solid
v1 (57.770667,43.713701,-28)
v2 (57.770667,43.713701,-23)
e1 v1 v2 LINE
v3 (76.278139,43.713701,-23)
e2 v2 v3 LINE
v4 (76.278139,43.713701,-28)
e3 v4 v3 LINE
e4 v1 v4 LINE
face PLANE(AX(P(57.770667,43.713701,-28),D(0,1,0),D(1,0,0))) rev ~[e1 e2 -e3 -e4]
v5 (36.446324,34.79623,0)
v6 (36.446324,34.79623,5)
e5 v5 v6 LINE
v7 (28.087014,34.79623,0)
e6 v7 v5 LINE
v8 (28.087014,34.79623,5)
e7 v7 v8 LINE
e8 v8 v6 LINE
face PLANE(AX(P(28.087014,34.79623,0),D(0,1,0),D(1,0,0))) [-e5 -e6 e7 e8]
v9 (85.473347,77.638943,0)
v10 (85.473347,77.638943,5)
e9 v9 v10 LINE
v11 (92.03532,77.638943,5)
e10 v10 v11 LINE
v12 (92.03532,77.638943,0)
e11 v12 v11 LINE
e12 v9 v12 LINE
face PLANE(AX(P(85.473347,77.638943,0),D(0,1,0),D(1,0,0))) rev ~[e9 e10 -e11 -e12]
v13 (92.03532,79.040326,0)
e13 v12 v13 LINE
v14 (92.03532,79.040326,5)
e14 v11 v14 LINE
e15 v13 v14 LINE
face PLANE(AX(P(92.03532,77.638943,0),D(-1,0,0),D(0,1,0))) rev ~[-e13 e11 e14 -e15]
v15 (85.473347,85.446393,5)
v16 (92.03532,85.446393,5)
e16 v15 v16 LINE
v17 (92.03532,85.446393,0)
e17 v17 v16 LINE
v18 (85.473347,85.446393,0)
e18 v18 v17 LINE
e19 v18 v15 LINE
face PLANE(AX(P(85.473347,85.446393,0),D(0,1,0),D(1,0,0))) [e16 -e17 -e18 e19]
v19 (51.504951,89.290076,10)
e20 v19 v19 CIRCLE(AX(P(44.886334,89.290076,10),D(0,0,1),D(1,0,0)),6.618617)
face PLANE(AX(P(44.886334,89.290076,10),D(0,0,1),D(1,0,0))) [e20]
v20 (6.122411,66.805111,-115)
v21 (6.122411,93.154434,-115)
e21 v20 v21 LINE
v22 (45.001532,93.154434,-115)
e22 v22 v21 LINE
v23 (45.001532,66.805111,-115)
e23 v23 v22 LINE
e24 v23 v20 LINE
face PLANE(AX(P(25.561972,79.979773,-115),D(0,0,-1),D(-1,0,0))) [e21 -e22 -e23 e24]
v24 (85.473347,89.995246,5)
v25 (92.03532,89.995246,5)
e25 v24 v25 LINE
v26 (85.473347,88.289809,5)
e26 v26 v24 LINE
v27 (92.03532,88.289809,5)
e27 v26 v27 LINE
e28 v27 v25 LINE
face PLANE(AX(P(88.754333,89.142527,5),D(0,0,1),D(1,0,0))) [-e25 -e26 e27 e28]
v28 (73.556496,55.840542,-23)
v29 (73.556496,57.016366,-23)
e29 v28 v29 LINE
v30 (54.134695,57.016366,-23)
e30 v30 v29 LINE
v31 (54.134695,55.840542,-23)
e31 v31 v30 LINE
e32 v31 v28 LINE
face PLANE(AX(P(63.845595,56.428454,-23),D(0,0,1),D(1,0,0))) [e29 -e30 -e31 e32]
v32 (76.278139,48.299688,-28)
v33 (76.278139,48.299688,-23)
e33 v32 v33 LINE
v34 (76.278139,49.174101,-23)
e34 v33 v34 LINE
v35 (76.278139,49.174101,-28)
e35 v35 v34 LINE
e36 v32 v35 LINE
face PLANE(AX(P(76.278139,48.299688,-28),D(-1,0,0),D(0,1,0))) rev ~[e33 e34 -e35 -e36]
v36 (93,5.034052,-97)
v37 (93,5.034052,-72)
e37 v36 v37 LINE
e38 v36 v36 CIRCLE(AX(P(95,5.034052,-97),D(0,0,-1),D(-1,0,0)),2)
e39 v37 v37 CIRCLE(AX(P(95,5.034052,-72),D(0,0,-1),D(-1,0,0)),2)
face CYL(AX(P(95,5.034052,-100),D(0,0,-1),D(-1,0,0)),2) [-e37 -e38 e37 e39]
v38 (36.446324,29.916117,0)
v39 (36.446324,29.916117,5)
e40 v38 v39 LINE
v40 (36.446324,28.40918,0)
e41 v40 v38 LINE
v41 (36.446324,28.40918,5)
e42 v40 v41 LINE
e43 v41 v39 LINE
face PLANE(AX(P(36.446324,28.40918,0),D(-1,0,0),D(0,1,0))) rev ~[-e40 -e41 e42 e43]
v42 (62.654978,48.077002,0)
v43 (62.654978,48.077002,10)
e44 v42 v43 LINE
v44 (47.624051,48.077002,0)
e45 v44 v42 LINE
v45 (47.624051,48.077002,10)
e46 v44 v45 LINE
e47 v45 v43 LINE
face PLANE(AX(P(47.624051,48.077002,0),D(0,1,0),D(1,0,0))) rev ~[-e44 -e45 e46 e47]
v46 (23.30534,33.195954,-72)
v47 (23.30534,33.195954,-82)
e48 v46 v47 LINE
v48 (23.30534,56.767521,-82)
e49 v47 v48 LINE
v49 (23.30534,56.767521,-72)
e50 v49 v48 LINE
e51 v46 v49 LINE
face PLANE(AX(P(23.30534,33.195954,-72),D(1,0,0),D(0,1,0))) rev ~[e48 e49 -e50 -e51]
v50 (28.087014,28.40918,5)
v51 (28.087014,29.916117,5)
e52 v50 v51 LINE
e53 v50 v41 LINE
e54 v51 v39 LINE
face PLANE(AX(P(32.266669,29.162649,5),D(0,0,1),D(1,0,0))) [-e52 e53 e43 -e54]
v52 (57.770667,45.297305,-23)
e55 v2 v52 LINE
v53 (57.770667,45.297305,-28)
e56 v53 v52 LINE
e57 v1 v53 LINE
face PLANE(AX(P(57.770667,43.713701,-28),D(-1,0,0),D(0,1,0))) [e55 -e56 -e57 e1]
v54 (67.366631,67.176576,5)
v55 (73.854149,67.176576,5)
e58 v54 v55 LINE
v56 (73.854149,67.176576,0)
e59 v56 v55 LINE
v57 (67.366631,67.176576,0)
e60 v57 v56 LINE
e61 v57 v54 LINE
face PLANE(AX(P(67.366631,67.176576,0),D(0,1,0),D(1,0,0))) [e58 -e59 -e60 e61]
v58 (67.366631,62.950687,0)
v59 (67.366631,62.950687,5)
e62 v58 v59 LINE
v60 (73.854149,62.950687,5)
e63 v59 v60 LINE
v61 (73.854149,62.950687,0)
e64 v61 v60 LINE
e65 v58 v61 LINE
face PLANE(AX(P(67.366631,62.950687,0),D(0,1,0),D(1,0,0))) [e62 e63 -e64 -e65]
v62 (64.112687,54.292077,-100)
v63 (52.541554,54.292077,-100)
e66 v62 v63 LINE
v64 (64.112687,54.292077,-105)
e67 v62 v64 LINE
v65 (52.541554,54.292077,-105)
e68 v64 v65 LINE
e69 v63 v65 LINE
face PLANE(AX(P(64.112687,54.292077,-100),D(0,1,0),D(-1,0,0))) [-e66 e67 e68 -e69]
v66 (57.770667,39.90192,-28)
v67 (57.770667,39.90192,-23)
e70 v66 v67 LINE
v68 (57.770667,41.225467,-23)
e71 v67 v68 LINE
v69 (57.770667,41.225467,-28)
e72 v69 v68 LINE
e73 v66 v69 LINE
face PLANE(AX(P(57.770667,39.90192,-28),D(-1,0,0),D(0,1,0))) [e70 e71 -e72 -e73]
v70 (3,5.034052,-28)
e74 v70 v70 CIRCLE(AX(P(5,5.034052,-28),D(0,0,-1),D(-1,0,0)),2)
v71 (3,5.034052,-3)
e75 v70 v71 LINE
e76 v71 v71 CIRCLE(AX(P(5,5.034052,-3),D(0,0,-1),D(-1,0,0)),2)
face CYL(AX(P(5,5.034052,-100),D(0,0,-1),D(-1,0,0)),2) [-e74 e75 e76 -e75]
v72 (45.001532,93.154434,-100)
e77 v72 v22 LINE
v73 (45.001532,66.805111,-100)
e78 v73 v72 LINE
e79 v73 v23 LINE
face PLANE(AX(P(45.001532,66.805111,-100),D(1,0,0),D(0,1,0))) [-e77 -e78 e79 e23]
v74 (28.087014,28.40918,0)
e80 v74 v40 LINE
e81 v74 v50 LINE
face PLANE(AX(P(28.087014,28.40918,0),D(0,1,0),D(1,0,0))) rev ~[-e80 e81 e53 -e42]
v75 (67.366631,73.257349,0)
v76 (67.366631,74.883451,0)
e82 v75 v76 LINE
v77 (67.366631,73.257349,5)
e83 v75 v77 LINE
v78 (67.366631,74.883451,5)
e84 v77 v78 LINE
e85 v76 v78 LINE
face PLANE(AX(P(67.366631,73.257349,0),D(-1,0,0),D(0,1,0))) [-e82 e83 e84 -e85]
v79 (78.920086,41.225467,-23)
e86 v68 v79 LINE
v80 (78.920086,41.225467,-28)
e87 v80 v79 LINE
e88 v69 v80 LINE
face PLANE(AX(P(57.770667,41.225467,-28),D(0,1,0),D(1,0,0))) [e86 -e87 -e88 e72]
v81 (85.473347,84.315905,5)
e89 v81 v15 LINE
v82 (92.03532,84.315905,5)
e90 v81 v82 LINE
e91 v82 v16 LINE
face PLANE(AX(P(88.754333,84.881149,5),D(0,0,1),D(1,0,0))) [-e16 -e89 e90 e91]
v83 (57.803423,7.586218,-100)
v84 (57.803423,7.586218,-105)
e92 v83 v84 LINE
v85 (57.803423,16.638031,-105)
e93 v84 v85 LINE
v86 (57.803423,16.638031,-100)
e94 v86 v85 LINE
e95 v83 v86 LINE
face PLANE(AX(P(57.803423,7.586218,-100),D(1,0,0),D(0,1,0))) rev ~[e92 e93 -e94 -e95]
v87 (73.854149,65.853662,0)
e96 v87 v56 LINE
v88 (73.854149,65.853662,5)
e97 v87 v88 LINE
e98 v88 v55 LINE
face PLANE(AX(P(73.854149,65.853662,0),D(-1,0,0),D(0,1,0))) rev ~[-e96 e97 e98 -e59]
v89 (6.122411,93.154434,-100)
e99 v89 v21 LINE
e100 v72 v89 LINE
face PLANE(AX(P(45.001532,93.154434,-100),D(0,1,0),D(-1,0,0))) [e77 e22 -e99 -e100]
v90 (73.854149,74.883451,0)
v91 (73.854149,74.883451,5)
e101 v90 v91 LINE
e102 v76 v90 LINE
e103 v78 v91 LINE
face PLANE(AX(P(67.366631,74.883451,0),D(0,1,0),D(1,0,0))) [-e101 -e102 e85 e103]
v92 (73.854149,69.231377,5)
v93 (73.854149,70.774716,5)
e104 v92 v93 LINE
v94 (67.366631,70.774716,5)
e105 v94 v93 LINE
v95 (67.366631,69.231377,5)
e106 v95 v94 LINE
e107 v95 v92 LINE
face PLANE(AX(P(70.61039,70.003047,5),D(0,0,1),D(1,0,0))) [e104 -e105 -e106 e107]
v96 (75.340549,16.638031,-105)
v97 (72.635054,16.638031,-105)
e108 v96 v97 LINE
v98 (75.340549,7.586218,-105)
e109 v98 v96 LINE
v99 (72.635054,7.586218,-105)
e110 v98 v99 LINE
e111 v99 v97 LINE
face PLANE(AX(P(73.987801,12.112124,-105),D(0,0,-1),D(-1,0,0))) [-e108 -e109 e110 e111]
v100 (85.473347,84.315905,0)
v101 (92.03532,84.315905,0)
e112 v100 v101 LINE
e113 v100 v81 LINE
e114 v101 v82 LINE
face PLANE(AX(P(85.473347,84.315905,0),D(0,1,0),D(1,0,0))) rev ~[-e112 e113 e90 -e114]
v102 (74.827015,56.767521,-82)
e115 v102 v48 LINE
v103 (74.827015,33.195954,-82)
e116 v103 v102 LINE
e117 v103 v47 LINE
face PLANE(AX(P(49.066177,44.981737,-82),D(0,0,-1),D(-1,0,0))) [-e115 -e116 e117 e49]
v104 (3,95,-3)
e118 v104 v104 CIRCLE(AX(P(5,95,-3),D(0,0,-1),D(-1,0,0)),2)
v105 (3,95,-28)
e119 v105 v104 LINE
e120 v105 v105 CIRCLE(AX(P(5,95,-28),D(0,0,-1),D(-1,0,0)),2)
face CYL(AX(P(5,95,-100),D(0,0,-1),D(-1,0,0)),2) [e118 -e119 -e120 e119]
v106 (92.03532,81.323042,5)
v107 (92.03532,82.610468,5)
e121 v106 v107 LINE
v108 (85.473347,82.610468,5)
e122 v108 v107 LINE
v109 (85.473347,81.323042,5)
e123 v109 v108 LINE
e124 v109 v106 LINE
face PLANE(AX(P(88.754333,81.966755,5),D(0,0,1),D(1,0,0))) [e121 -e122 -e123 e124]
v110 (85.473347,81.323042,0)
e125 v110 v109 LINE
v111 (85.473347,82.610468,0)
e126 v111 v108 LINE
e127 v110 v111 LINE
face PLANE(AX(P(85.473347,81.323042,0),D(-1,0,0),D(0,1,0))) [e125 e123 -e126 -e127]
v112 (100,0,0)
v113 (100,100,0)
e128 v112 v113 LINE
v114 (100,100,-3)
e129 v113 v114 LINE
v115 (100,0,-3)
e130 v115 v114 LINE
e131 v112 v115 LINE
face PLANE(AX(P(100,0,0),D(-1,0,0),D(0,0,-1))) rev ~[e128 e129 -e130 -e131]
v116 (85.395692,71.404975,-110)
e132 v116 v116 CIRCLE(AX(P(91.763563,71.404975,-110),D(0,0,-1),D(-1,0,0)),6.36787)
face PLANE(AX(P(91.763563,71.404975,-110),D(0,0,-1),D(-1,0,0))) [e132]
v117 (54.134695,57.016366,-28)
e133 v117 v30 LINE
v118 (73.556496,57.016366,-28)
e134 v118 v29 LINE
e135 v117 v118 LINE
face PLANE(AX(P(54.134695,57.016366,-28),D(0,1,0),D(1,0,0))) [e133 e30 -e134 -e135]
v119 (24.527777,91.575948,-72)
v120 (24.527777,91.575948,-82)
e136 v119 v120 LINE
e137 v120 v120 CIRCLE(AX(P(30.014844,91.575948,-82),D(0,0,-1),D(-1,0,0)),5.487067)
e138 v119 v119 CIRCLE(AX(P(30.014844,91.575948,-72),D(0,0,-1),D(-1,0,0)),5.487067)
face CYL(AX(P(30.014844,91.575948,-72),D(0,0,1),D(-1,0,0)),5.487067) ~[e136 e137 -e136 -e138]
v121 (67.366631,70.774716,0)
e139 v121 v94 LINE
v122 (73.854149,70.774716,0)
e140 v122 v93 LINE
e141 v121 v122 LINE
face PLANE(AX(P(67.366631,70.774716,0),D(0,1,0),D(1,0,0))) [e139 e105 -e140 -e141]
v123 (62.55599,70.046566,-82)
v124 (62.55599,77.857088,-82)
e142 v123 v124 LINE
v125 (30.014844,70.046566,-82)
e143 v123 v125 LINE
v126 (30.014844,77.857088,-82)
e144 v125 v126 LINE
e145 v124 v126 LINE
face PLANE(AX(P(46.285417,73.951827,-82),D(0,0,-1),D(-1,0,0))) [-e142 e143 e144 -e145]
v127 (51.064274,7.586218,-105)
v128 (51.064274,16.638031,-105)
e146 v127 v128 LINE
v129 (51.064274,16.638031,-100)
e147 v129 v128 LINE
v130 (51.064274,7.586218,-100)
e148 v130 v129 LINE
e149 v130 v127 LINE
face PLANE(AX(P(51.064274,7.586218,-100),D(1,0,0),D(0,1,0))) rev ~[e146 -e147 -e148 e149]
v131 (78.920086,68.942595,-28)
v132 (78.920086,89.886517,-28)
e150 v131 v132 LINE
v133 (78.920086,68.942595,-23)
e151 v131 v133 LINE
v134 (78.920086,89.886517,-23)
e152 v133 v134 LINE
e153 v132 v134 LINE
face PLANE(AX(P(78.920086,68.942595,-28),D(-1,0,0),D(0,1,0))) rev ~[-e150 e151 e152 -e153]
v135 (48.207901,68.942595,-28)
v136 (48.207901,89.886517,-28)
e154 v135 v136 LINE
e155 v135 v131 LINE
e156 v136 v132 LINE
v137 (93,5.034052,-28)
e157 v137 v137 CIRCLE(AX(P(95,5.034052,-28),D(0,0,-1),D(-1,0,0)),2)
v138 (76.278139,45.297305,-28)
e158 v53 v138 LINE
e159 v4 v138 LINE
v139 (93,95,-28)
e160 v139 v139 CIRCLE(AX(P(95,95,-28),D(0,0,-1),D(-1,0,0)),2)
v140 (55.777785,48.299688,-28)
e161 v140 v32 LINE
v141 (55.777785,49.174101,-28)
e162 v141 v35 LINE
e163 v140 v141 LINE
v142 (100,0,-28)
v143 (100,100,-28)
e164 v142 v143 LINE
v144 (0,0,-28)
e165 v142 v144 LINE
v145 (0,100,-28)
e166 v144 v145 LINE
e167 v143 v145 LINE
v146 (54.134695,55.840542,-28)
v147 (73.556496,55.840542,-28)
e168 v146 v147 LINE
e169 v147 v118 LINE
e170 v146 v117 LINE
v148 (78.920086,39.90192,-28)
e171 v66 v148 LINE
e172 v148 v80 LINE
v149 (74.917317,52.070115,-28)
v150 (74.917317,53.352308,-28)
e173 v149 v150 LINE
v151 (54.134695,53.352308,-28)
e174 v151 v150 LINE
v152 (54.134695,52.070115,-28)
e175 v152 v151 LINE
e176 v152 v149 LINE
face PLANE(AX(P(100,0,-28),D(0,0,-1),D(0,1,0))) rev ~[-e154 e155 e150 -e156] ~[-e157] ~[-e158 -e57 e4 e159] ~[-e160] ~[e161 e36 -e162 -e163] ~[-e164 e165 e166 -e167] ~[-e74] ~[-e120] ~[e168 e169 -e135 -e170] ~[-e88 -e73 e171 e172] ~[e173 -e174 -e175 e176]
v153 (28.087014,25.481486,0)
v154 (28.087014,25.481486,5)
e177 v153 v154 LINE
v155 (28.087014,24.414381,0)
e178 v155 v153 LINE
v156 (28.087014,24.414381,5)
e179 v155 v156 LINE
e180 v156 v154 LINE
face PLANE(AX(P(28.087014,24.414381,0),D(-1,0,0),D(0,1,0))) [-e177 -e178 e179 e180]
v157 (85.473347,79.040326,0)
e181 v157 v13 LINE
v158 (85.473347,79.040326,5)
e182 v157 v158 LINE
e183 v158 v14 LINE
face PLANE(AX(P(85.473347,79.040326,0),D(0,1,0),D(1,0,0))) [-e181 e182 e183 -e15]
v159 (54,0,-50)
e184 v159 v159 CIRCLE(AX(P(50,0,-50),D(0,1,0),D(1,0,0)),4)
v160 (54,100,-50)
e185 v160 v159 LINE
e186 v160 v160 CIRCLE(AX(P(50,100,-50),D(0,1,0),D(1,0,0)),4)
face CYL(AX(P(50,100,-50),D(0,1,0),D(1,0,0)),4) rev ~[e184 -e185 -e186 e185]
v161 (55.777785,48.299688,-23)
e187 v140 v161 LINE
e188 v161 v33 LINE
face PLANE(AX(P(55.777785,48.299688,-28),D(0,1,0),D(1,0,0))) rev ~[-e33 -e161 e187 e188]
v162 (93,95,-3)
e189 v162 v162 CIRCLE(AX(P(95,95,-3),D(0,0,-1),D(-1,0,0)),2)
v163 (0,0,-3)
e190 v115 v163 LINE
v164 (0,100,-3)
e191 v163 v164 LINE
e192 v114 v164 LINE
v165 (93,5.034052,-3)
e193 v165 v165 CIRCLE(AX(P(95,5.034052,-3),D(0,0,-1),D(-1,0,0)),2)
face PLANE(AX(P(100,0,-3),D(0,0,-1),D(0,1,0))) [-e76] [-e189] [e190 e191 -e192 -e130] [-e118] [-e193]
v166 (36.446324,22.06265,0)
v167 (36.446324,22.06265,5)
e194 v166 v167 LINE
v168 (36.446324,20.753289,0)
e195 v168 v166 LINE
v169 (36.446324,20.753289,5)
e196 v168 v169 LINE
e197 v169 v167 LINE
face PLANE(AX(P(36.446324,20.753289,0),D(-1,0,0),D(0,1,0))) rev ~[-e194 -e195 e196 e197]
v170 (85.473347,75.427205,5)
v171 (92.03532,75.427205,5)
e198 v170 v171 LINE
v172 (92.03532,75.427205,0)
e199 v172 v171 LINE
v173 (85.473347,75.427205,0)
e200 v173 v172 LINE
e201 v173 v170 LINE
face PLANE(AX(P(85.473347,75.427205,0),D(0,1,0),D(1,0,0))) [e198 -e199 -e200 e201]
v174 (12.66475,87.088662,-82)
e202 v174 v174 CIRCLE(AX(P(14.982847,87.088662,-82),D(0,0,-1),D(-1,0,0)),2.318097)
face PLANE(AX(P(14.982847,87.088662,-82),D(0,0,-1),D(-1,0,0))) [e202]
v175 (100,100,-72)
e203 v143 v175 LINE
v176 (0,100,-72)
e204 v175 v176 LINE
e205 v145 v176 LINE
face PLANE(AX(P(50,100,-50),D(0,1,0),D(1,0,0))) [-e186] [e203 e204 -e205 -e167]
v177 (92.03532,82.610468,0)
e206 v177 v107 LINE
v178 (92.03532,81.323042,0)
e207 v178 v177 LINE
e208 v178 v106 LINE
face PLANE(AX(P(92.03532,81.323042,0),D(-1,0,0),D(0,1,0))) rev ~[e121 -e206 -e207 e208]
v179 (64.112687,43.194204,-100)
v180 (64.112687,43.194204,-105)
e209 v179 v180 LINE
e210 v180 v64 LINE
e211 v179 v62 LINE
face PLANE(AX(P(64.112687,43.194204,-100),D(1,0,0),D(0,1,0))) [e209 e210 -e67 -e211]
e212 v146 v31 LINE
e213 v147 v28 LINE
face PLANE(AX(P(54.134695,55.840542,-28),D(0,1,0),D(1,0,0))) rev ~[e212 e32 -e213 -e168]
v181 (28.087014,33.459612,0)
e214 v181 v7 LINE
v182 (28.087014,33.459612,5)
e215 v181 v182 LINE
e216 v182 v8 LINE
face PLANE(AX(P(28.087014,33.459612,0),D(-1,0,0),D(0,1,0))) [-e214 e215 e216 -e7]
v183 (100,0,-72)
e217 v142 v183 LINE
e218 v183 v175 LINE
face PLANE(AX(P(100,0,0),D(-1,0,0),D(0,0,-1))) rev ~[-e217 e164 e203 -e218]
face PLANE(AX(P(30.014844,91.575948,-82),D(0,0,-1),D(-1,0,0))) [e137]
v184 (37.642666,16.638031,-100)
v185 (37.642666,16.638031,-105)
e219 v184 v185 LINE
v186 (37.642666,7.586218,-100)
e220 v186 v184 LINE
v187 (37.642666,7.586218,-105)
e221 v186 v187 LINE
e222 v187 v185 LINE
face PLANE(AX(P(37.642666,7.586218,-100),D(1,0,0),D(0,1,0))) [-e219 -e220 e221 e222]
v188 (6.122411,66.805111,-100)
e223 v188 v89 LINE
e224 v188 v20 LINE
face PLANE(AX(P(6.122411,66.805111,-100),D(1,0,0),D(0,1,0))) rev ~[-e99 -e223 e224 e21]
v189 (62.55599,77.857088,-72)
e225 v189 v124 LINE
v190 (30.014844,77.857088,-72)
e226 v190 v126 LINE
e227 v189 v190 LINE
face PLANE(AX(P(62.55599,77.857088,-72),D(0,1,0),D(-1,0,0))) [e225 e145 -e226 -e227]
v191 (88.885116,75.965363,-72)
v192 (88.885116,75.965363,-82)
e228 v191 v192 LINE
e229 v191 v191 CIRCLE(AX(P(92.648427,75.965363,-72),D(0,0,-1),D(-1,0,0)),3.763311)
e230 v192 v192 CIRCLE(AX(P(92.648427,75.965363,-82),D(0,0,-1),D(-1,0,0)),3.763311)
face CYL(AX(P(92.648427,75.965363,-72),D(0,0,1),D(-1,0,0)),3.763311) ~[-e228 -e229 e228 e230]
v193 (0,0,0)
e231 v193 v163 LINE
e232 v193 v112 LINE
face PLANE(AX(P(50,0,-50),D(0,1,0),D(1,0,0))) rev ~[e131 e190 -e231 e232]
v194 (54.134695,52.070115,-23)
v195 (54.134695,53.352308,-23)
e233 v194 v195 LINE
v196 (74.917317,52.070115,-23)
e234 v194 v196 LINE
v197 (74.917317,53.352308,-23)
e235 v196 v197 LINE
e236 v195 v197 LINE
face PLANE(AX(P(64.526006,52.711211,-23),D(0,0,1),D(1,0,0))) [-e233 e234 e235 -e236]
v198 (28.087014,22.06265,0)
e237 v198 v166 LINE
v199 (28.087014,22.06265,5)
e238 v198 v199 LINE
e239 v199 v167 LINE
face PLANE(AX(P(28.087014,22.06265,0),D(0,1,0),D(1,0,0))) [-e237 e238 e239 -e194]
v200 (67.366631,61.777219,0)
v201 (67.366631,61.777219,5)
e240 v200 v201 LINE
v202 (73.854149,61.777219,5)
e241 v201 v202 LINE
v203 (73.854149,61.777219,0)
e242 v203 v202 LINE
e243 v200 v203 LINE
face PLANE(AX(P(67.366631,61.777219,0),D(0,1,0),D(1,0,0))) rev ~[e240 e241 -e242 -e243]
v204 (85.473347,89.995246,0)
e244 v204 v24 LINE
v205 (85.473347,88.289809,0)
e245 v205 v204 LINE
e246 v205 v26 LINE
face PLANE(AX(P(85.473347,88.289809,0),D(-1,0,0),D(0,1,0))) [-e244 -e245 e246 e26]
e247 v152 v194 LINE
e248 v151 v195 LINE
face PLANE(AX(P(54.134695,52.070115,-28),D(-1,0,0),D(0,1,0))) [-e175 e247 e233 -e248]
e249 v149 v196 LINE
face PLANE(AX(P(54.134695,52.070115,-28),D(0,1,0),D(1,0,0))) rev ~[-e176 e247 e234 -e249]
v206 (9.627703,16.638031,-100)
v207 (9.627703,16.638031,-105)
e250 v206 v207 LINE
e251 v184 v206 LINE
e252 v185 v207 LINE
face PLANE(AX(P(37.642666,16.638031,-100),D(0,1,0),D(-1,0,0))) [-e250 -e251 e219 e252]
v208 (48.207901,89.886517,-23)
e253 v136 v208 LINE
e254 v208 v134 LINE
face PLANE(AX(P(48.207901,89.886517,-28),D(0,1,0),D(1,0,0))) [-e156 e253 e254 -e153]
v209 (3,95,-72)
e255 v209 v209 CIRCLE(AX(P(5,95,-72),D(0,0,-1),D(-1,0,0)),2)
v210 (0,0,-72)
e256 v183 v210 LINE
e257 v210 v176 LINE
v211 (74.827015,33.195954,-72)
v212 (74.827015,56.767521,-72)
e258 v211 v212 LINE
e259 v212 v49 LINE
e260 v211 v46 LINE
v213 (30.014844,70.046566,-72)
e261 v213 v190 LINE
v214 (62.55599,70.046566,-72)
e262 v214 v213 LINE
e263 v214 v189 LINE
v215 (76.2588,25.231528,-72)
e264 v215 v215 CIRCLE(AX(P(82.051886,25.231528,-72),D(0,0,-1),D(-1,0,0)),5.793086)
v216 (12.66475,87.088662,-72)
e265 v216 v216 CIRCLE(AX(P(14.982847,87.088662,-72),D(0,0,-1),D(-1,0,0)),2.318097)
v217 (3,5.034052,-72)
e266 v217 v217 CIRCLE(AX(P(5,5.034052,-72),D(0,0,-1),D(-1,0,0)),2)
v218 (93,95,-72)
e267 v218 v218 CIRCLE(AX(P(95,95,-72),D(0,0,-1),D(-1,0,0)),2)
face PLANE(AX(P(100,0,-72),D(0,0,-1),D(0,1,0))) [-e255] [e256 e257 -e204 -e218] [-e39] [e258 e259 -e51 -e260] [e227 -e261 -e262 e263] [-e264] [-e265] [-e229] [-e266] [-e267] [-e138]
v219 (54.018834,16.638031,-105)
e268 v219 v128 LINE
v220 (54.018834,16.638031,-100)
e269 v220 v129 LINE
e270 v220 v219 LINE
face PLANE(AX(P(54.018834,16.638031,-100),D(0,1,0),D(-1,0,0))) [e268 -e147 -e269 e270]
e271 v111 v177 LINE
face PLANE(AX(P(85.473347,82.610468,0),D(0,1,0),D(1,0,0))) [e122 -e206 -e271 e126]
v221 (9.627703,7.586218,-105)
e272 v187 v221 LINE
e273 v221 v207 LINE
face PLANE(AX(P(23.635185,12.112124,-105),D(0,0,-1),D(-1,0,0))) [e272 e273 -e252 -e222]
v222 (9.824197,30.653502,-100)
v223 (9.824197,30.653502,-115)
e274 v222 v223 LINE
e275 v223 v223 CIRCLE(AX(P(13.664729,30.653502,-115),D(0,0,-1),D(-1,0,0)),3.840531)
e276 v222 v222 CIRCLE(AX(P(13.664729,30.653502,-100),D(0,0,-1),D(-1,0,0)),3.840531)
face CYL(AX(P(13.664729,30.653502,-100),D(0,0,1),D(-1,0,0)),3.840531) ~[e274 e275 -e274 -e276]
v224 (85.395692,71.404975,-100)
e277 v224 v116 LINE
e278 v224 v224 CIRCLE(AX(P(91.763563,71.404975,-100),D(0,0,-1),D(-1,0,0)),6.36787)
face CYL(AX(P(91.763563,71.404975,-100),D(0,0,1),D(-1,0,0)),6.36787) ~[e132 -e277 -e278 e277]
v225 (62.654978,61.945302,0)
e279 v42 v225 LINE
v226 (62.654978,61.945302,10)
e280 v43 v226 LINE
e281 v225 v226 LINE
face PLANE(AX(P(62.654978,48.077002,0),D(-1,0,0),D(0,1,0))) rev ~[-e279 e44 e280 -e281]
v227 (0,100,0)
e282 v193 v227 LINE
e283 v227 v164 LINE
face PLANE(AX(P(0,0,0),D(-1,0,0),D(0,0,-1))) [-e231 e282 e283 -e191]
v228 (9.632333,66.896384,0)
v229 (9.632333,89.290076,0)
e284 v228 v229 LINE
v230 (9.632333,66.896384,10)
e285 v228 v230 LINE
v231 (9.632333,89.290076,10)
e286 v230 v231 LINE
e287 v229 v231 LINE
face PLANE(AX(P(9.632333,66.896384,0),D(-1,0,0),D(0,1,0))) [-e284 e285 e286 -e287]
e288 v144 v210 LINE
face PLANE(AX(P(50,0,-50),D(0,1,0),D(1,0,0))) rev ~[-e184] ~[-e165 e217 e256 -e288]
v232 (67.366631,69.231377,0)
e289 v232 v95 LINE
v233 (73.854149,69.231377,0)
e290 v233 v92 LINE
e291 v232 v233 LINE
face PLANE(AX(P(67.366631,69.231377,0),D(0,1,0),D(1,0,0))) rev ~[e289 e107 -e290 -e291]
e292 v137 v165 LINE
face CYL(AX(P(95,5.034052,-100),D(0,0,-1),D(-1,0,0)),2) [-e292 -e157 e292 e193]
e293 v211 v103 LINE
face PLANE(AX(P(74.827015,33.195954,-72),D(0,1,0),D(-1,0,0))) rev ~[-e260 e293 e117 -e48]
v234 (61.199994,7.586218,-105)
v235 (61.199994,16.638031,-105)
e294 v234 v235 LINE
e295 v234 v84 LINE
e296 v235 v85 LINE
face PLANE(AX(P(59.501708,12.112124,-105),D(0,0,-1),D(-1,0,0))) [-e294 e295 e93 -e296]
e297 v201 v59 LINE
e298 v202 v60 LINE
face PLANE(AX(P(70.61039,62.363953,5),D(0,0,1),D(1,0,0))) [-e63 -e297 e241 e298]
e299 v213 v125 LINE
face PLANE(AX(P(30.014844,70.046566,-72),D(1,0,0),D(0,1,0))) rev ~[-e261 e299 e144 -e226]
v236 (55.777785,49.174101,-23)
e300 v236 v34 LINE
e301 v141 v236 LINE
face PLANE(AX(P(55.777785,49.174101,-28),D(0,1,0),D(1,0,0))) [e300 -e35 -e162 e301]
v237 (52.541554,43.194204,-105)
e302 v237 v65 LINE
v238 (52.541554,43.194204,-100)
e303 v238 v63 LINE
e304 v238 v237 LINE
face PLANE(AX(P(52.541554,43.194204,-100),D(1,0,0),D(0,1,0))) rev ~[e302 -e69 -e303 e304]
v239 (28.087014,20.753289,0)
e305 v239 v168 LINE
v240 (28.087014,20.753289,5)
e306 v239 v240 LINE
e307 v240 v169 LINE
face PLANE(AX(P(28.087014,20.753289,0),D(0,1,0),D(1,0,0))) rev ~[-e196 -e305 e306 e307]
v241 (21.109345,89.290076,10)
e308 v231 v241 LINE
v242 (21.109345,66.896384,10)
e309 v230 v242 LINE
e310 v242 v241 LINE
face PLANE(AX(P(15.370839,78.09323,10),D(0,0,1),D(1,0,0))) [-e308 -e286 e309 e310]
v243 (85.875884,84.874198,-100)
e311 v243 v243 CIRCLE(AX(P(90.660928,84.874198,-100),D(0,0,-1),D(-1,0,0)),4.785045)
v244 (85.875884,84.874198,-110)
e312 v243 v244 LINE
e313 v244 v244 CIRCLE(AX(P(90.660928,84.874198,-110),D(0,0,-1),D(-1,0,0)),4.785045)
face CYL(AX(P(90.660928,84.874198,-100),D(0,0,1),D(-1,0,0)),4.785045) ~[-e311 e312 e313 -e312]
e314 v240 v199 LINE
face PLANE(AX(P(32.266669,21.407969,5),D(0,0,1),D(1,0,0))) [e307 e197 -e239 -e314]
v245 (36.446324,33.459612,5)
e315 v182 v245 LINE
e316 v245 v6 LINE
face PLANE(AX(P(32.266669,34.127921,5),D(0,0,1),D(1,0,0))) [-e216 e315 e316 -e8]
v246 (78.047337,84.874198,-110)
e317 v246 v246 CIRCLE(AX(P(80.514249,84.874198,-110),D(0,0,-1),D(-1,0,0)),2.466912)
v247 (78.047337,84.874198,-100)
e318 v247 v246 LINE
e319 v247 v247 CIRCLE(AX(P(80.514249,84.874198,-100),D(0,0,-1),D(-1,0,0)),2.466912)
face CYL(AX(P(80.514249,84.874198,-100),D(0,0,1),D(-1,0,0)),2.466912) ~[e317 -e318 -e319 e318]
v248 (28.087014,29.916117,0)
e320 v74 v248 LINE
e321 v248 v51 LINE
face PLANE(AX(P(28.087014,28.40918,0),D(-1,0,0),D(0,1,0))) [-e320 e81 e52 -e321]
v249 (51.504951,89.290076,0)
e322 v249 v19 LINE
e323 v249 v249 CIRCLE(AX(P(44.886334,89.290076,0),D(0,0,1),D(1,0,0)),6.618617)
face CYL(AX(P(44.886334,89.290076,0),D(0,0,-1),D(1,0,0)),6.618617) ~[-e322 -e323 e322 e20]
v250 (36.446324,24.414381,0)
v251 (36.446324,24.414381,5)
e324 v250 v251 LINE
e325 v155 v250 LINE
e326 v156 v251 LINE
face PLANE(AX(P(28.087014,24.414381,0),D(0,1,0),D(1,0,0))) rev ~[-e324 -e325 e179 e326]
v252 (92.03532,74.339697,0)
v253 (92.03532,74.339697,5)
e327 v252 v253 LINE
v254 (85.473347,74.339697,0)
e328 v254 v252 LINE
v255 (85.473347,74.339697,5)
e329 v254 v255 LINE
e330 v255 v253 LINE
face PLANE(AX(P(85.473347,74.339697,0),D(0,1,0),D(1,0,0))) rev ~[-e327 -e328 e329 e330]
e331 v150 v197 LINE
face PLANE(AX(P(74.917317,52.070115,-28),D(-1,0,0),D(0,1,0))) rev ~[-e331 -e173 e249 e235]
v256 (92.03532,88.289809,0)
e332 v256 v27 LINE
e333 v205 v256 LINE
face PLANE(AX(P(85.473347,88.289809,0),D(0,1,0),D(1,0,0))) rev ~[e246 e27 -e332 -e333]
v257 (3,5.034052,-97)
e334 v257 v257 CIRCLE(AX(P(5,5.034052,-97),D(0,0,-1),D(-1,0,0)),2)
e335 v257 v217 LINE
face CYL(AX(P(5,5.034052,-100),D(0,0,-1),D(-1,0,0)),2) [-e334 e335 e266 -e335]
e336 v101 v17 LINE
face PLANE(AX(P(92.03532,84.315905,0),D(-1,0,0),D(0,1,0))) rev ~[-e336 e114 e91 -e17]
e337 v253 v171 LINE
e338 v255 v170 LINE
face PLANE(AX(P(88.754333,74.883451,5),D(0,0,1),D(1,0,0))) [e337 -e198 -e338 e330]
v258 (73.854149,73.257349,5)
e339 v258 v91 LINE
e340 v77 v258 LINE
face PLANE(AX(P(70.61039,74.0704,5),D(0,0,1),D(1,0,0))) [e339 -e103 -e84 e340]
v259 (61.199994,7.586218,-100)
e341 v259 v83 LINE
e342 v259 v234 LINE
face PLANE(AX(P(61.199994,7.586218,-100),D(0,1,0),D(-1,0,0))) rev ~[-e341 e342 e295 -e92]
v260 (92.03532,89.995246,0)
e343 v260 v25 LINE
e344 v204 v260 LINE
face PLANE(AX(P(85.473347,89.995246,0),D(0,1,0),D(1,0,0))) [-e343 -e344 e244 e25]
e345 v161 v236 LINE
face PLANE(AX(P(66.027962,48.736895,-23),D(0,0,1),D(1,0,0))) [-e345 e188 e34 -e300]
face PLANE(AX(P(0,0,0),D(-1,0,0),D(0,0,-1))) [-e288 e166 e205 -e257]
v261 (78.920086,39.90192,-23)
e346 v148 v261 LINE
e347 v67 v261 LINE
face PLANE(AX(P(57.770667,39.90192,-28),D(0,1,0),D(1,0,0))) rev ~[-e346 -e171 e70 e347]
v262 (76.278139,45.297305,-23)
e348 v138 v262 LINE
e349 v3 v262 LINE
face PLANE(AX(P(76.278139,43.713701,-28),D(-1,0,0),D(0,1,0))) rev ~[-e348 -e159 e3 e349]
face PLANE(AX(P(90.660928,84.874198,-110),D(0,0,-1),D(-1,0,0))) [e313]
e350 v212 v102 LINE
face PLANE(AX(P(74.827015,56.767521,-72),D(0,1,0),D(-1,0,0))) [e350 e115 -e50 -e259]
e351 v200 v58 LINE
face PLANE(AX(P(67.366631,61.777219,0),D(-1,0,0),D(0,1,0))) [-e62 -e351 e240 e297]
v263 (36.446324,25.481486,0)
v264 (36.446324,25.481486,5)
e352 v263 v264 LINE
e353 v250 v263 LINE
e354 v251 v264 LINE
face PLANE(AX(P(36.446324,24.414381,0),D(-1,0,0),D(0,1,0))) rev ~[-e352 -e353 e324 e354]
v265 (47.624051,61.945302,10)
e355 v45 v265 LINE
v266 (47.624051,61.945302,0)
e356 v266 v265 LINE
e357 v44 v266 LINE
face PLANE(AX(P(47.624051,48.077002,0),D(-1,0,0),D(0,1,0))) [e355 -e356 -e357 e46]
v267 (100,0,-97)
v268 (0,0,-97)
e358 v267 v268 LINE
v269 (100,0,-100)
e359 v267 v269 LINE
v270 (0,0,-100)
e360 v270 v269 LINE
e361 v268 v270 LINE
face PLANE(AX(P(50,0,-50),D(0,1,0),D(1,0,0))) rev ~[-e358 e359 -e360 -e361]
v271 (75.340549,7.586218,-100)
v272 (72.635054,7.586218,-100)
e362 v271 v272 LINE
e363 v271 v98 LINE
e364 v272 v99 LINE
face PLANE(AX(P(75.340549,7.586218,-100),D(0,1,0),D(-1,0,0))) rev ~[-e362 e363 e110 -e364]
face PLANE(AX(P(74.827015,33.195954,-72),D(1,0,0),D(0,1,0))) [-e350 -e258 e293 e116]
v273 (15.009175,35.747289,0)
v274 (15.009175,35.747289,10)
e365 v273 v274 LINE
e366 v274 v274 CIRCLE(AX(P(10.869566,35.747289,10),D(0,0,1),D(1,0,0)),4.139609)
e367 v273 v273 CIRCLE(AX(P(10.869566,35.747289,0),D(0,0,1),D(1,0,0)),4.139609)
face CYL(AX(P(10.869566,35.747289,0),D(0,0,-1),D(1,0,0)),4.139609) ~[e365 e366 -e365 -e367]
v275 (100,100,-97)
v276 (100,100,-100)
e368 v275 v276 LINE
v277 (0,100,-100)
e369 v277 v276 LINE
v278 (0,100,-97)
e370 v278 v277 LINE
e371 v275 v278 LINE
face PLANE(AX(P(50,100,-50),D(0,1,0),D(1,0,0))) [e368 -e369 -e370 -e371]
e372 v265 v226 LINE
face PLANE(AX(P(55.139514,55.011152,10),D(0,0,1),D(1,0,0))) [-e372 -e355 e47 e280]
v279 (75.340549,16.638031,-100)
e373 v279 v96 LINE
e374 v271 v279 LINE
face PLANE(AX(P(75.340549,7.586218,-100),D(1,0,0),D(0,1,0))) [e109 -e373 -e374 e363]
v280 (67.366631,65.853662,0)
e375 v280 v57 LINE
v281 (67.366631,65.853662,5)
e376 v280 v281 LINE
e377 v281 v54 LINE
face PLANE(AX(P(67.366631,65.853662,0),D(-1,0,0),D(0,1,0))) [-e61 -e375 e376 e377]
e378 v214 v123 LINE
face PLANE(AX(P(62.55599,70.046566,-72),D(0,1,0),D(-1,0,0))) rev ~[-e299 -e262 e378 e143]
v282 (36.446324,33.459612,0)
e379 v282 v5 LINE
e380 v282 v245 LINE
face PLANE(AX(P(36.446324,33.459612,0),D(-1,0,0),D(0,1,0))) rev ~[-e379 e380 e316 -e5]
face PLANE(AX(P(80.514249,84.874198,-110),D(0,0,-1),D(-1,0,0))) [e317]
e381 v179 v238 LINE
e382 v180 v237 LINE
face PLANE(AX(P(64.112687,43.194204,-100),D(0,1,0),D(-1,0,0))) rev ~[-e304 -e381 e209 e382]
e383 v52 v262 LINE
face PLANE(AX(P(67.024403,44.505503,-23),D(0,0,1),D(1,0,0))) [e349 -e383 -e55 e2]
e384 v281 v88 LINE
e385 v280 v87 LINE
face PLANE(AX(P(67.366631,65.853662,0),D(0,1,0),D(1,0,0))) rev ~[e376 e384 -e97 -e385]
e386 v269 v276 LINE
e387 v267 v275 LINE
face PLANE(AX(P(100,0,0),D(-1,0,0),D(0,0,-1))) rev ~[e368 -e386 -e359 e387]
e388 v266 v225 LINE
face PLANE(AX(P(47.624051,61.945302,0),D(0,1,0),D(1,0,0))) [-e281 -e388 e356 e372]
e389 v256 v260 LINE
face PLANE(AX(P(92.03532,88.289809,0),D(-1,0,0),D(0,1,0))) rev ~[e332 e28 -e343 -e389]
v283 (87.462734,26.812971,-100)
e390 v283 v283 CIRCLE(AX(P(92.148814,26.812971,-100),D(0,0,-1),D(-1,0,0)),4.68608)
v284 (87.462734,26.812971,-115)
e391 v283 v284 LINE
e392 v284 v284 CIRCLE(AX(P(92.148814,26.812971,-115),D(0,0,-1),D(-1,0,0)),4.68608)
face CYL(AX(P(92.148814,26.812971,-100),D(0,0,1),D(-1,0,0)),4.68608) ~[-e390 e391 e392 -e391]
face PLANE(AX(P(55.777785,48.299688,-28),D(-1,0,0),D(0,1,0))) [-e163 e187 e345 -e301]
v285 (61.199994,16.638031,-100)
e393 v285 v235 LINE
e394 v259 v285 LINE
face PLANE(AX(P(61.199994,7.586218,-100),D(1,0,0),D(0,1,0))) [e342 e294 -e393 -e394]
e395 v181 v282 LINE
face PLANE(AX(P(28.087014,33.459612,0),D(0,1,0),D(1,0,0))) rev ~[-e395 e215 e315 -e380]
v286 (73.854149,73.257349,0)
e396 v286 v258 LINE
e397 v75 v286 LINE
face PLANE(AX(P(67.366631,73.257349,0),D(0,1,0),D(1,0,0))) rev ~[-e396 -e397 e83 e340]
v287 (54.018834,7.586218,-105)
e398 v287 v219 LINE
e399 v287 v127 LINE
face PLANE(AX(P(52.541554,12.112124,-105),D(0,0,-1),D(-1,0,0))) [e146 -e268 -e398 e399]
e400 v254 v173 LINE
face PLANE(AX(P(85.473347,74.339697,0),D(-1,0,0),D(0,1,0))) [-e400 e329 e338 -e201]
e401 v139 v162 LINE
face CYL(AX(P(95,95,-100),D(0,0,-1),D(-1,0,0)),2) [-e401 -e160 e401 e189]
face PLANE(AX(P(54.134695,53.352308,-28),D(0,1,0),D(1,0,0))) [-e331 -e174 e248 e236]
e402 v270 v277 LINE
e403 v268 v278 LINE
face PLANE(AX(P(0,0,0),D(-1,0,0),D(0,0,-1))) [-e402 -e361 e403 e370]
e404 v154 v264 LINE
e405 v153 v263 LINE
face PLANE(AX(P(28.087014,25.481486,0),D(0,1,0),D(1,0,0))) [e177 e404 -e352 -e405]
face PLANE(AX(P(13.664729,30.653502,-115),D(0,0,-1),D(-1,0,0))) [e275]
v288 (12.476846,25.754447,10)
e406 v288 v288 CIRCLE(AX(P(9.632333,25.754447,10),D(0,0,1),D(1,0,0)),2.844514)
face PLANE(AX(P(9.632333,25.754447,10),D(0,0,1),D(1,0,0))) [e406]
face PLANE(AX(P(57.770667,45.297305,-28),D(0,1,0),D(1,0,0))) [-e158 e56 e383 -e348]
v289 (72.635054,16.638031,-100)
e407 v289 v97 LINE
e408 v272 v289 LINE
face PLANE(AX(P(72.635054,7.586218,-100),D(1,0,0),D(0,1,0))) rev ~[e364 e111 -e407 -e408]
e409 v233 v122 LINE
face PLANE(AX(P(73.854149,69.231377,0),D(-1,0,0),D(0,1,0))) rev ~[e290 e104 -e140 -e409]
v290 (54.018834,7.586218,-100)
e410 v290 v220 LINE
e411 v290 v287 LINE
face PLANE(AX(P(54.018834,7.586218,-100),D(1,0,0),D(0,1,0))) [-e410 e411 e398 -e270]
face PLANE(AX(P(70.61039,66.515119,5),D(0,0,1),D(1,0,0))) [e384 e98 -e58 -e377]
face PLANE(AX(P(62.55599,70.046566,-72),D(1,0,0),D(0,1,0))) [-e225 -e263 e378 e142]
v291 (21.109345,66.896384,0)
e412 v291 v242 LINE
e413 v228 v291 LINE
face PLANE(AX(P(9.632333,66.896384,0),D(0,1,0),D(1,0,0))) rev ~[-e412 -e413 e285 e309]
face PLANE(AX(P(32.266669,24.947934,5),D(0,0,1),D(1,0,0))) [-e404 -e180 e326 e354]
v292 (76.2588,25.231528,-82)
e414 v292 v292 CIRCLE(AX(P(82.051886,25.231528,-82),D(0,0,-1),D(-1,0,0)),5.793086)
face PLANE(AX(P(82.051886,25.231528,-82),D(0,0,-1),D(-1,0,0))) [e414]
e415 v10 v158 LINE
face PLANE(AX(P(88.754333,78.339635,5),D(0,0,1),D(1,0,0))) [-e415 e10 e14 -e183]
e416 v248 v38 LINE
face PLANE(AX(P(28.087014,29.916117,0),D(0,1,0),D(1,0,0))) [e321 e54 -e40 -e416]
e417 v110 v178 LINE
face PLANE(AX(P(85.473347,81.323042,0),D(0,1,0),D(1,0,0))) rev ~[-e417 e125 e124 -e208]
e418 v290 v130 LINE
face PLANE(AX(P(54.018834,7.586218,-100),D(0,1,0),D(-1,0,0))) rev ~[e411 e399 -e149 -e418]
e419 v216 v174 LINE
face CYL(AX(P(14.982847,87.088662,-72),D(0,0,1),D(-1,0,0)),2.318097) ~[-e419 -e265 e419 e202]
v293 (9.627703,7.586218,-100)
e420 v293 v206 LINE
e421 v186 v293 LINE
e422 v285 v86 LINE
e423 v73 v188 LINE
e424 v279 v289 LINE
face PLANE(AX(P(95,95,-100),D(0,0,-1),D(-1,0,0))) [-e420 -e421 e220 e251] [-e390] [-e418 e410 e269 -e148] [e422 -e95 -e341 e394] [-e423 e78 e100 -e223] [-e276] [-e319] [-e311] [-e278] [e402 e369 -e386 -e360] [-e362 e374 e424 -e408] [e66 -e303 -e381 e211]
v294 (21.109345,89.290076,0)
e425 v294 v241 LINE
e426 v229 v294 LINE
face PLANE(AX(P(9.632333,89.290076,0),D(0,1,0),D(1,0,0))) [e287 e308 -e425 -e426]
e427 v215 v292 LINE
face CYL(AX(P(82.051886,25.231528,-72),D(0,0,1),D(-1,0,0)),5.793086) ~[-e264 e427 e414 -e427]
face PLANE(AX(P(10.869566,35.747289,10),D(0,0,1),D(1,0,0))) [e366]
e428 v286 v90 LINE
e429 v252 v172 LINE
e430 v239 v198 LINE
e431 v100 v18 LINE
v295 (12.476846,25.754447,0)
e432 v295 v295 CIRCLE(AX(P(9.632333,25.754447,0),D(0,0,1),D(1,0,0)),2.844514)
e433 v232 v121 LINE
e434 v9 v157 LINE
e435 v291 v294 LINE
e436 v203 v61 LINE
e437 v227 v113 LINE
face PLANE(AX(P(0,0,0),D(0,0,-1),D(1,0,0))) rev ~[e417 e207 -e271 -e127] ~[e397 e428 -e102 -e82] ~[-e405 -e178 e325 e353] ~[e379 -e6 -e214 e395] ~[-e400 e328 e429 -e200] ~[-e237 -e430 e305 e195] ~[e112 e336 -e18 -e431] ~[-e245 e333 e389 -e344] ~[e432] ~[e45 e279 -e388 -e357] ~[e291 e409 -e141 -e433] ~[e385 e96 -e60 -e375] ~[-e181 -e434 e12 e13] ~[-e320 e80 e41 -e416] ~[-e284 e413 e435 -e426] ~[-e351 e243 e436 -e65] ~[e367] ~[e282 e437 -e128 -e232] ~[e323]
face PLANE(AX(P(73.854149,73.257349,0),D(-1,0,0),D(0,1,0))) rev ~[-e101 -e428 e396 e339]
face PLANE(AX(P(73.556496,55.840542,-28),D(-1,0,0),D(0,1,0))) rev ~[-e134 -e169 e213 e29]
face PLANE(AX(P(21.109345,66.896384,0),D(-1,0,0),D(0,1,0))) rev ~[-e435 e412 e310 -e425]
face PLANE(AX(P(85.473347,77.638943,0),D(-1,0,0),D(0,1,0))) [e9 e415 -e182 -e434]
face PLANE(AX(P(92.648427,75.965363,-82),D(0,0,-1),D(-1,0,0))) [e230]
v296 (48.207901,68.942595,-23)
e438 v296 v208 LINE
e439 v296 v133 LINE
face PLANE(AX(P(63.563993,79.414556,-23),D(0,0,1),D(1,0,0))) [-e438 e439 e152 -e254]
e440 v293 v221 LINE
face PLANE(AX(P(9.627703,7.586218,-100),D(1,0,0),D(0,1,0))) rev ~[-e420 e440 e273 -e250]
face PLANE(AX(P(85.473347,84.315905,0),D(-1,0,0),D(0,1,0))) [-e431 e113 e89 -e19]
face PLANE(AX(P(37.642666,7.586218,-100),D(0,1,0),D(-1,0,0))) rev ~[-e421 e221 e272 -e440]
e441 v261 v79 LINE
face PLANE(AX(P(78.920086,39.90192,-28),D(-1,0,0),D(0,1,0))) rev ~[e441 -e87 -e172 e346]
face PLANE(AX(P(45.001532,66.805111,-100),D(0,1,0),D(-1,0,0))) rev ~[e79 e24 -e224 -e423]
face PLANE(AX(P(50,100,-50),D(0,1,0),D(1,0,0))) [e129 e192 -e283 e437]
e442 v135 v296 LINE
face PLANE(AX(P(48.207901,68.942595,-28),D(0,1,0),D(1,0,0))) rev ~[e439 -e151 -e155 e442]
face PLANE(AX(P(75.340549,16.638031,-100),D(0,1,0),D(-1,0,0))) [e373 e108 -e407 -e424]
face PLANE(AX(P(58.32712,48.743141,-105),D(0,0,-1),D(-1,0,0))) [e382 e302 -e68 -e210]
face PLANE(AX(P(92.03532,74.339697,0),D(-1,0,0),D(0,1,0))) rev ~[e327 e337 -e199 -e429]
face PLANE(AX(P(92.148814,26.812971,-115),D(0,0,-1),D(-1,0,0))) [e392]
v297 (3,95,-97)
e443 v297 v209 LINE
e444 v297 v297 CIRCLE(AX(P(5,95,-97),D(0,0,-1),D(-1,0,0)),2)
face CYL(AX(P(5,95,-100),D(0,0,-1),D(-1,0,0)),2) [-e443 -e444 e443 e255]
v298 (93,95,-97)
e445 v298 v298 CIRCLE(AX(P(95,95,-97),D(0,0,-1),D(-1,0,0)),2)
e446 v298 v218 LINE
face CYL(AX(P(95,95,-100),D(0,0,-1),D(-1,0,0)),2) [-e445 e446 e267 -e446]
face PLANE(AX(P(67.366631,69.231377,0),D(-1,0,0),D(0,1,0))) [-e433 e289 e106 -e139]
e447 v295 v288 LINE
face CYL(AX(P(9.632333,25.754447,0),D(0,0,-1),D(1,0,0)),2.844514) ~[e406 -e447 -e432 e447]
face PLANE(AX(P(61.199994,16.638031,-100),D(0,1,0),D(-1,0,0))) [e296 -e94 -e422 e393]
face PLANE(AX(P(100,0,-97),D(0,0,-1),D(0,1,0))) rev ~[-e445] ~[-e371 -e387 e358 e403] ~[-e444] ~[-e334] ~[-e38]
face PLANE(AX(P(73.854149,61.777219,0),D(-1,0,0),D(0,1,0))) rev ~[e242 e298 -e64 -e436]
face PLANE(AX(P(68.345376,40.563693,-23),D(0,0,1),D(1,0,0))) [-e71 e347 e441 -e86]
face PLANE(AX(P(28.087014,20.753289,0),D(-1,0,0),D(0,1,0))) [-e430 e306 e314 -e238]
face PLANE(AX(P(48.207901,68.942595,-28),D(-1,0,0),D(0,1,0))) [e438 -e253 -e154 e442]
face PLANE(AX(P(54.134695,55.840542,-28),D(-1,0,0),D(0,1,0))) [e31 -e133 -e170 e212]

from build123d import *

# Parameters (mm, degrees)
CROQUIS1_W               = 100
CROQUIS1_H               = 100
SALIENTE_EXTRUIR1_DEPTH  = 100
CROQUIS2_W               = 25
CROQUIS2_H               = 100
CORTAR_EXTRUIR1_DEPTH    = 100
CROQUIS3_R               = 4
CORTAR_EXTRUIR2_DEPTH    = 100
CROQUIS4_R               = 2
SALIENTE_EXTRUIR2_DEPTH  = 100
CROQUIS5_W               = 28.014963793
CROQUIS5_H               = 9.051812895
CROQUIS5_W_2             = 2.954560647
CROQUIS5_W_3             = 3.39657131
CROQUIS5_W_4             = 2.705494987
CROQUIS5_W_5             = 11.571132933
CROQUIS5_H_2             = 11.097873227
SALIENTE_EXTRUIR3_DEPTH  = 5
CROQUIS6_R               = 3.840531475
CROQUIS6_R_2             = 4.686080108
SALIENTE_EXTRUIR4_DEPTH  = 15
CROQUIS7_W               = 38.87912129
CROQUIS7_H               = 26.349323358
SALIENTE_EXTRUIR5_DEPTH  = 15
CROQUIS9_R               = 4.785044561
CROQUIS9_R_2             = 6.367870478
CROQUIS9_R_3             = 2.466912166
SALIENTE_EXTRUIR7_DEPTH  = 10
CROQUIS10_R              = 5.793086174
CROQUIS10_R_2            = 2.31809738
CROQUIS10_R_3            = 5.48706726
CROQUIS10_R_4            = 3.763310936
CROQUIS10_W              = 32.541145419
CROQUIS10_H              = 7.810522345
CROQUIS10_W_2            = 51.521675343
CROQUIS10_H_2            = 23.571567841
SALIENTE_EXTRUIR8_DEPTH  = 10
CROQUIS11_R              = 6.618616789
CROQUIS11_R_2            = 4.139609283
CROQUIS11_R_3            = 2.844513546
CROQUIS11_W              = 11.477012866
CROQUIS11_H              = 22.393691404
CROQUIS11_W_2            = 15.030927027
CROQUIS11_H_2            = 13.868299131
SALIENTE_EXTRUIR9_DEPTH  = 10
CROQUIS12_W              = 8.359310308
CROQUIS12_H              = 1.309360747
CROQUIS12_H_2            = 1.067105011
CROQUIS12_H_3            = 1.50693684
CROQUIS12_H_4            = 1.336617059
SALIENTE_EXTRUIR12_DEPTH = 5
CROQUIS13_W              = 6.56197319
CROQUIS13_H              = 1.705437116
CROQUIS13_H_2            = 1.130487953
CROQUIS13_H_3            = 1.287425288
CROQUIS13_H_4            = 1.401382976
CROQUIS13_H_5            = 1.087508306
CROQUIS13_W_2            = 6.487517882
CROQUIS13_H_6            = 1.626101739
CROQUIS13_H_7            = 1.54333906
CROQUIS13_H_8            = 1.322914308
CROQUIS13_H_9            = 1.1734676
SALIENTE_EXTRUIR13_DEPTH = 5
CROQUIS14_W              = 30.712185141
CROQUIS14_H              = 20.943922245
CROQUIS14_W_2            = 19.421800597
CROQUIS14_H_2            = 1.175823789
CROQUIS14_W_3            = 20.78262229
CROQUIS14_H_3            = 1.282192639
CROQUIS14_W_4            = 20.500354159
CROQUIS14_H_4            = 0.874412394
CROQUIS14_W_5            = 18.507472387
CROQUIS14_H_5            = 1.583604033
CROQUIS14_W_6            = 21.149419091
CROQUIS14_H_6            = 1.323547308
SALIENTE_EXTRUIR14_DEPTH = 5


with BuildPart() as part:
    # Croquis1 → Saliente-Extruir1 (new body)
    with BuildSketch(Plane(origin=(0, 0, 0), x_dir=(1, 0, 0), z_dir=(0, 1, 0))):
        with Locations((50, 50)):
            Rectangle(CROQUIS1_W, CROQUIS1_H)
    extrude(amount=SALIENTE_EXTRUIR1_DEPTH)

    # Croquis2 → Cortar-Extruir1 (cut)
    with BuildSketch(Plane(origin=(100, 0, 0), x_dir=(0, 0, -1), z_dir=(1, 0, 0))):
        with Locations((15.5, 50)):
            Rectangle(CROQUIS2_W, CROQUIS2_H)
        with Locations((84.5, 50)):
            Rectangle(CROQUIS2_W, CROQUIS2_H)
    extrude(amount=-CORTAR_EXTRUIR1_DEPTH, mode=Mode.SUBTRACT)

    # Croquis3 → Cortar-Extruir2 (cut)
    with BuildSketch(Plane(origin=(0, 100, 0), x_dir=(1, 0, 0), z_dir=(0, 1, 0))):
        with Locations((50, 50)):
            Circle(CROQUIS3_R)
    extrude(amount=-CORTAR_EXTRUIR2_DEPTH, mode=Mode.SUBTRACT)

    # Croquis4 → Saliente-Extruir2 (add)
    with BuildSketch(Plane(origin=(0, 0, -100), x_dir=(-1, 0, 0), z_dir=(0, 0, -1))):
        with Locations((-95, 95)):
            Circle(CROQUIS4_R)
        with Locations((-95, 5.03405208)):
            Circle(CROQUIS4_R)
        with Locations((-5, 95)):
            Circle(CROQUIS4_R)
        with Locations((-5, 5.03405208)):
            Circle(CROQUIS4_R)
    extrude(amount=-SALIENTE_EXTRUIR2_DEPTH)

    # Croquis5 → Saliente-Extruir3 (add)
    with BuildSketch(Plane(origin=(0, 0, -100), x_dir=(-1, 0, 0), z_dir=(0, 0, -1))):
        with Locations((-23.635184558, 12.112124115)):
            Rectangle(CROQUIS5_W, CROQUIS5_H)
        with Locations((-52.541553902, 12.112124115)):
            Rectangle(CROQUIS5_W_2, CROQUIS5_H)
        with Locations((-59.50170842, 12.112124115)):
            Rectangle(CROQUIS5_W_3, CROQUIS5_H)
        with Locations((-73.987801173, 12.112124115)):
            Rectangle(CROQUIS5_W_4, CROQUIS5_H)
        with Locations((-58.32712037, 48.743140543)):
            Rectangle(CROQUIS5_W_5, CROQUIS5_H_2)
    extrude(amount=SALIENTE_EXTRUIR3_DEPTH)

    # Croquis6 → Saliente-Extruir4 (add)
    with BuildSketch(Plane(origin=(0, 0, -100), x_dir=(-1, 0, 0), z_dir=(0, 0, -1))):
        with Locations((-13.664728634, 30.653502261)):
            Circle(CROQUIS6_R)
        with Locations((-92.1488144, 26.812970786)):
            Circle(CROQUIS6_R_2)
    extrude(amount=SALIENTE_EXTRUIR4_DEPTH)

    # Croquis7 → Saliente-Extruir5 (add)
    with BuildSketch(Plane(origin=(0, 0, -100), x_dir=(-1, 0, 0), z_dir=(0, 0, -1))):
        with Locations((-25.561971547, 79.979772745)):
            Rectangle(CROQUIS7_W, CROQUIS7_H)
    extrude(amount=SALIENTE_EXTRUIR5_DEPTH)

    # Croquis9 → Saliente-Extruir7 (add)
    with BuildSketch(Plane(origin=(0, 0, -100), x_dir=(-1, 0, 0), z_dir=(0, 0, -1))):
        with Locations((-90.660928356, 84.874198192)):
            Circle(CROQUIS9_R)
        with Locations((-91.763562846, 71.404974806)):
            Circle(CROQUIS9_R_2)
        with Locations((-80.514248765, 84.874198192)):
            Circle(CROQUIS9_R_3)
    extrude(amount=SALIENTE_EXTRUIR7_DEPTH)

    # Croquis10 → Saliente-Extruir8 (add)
    with BuildSketch(Plane(origin=(0, 0, -72), x_dir=(-1, 0, 0), z_dir=(0, 0, -1))):
        with Locations((-82.051886177, 25.231528411)):
            Circle(CROQUIS10_R)
        with Locations((-14.982847097, 87.088662407)):
            Circle(CROQUIS10_R_2)
        with Locations((-30.0148444, 91.575948126)):
            Circle(CROQUIS10_R_3)
        with Locations((-92.648427406, 75.96536285)):
            Circle(CROQUIS10_R_4)
        with Locations((-46.28541711, 73.951827076)):
            Rectangle(CROQUIS10_W, CROQUIS10_H)
        with Locations((-49.06617746, 44.981737468)):
            Rectangle(CROQUIS10_W_2, CROQUIS10_H_2)
    extrude(amount=SALIENTE_EXTRUIR8_DEPTH)

    # Croquis11 → Saliente-Extruir9 (add)
    with BuildSketch(Plane.XY):
        with Locations((44.886334375, 89.290075512)):
            Circle(CROQUIS11_R)
        with Locations((10.869565611, 35.747288597)):
            Circle(CROQUIS11_R_2)
        with Locations((9.632332503, 25.754447062)):
            Circle(CROQUIS11_R_3)
        with Locations((15.370838936, 78.09322981)):
            Rectangle(CROQUIS11_W, CROQUIS11_H)
        with Locations((55.139514231, 55.011152001)):
            Rectangle(CROQUIS11_W_2, CROQUIS11_H_2)
    extrude(amount=SALIENTE_EXTRUIR9_DEPTH)

    # Croquis12 → Saliente-Extruir12 (add)
    with BuildSketch(Plane.XY):
        with Locations((32.266668911, 21.407969294)):
            Rectangle(CROQUIS12_W, CROQUIS12_H)
        with Locations((32.266668911, 24.947933784)):
            Rectangle(CROQUIS12_W, CROQUIS12_H_2)
        with Locations((32.266668911, 29.162648826)):
            Rectangle(CROQUIS12_W, CROQUIS12_H_3)
        with Locations((32.266668911, 34.127920992)):
            Rectangle(CROQUIS12_W, CROQUIS12_H_4)
    extrude(amount=SALIENTE_EXTRUIR12_DEPTH)

    # Croquis13 → Saliente-Extruir13 (add)
    with BuildSketch(Plane.XY):
        with Locations((88.754333095, 89.142527072)):
            Rectangle(CROQUIS13_W, CROQUIS13_H)
        with Locations((88.754333095, 84.881148844)):
            Rectangle(CROQUIS13_W, CROQUIS13_H_2)
        with Locations((88.754333095, 81.966755107)):
            Rectangle(CROQUIS13_W, CROQUIS13_H_3)
        with Locations((88.754333095, 78.33963479)):
            Rectangle(CROQUIS13_W, CROQUIS13_H_4)
        with Locations((88.754333095, 74.883451007)):
            Rectangle(CROQUIS13_W, CROQUIS13_H_5)
        with Locations((70.610389752, 74.070400138)):
            Rectangle(CROQUIS13_W_2, CROQUIS13_H_6)
        with Locations((70.610389752, 70.003046572)):
            Rectangle(CROQUIS13_W_2, CROQUIS13_H_7)
        with Locations((70.610389752, 66.51511908)):
            Rectangle(CROQUIS13_W_2, CROQUIS13_H_8)
        with Locations((70.610389752, 62.363953227)):
            Rectangle(CROQUIS13_W_2, CROQUIS13_H_9)
    extrude(amount=SALIENTE_EXTRUIR13_DEPTH)

    # Croquis14 → Saliente-Extruir14 (add)
    with BuildSketch(Plane.XY.offset(-28)):
        with Locations((63.563993269, 79.414556202)):
            Rectangle(CROQUIS14_W, CROQUIS14_H)
        with Locations((63.845595451, 56.428453676)):
            Rectangle(CROQUIS14_W_2, CROQUIS14_H_2)
        with Locations((64.526006297, 52.711211406)):
            Rectangle(CROQUIS14_W_3, CROQUIS14_H_3)
        with Locations((66.027962056, 48.736894588)):
            Rectangle(CROQUIS14_W_4, CROQUIS14_H_4)
        with Locations((67.024402941, 44.505503223)):
            Rectangle(CROQUIS14_W_5, CROQUIS14_H_5)
        with Locations((68.345376294, 40.563693497)):
            Rectangle(CROQUIS14_W_6, CROQUIS14_H_6)
    extrude(amount=SALIENTE_EXTRUIR14_DEPTH)


solid = part.part
